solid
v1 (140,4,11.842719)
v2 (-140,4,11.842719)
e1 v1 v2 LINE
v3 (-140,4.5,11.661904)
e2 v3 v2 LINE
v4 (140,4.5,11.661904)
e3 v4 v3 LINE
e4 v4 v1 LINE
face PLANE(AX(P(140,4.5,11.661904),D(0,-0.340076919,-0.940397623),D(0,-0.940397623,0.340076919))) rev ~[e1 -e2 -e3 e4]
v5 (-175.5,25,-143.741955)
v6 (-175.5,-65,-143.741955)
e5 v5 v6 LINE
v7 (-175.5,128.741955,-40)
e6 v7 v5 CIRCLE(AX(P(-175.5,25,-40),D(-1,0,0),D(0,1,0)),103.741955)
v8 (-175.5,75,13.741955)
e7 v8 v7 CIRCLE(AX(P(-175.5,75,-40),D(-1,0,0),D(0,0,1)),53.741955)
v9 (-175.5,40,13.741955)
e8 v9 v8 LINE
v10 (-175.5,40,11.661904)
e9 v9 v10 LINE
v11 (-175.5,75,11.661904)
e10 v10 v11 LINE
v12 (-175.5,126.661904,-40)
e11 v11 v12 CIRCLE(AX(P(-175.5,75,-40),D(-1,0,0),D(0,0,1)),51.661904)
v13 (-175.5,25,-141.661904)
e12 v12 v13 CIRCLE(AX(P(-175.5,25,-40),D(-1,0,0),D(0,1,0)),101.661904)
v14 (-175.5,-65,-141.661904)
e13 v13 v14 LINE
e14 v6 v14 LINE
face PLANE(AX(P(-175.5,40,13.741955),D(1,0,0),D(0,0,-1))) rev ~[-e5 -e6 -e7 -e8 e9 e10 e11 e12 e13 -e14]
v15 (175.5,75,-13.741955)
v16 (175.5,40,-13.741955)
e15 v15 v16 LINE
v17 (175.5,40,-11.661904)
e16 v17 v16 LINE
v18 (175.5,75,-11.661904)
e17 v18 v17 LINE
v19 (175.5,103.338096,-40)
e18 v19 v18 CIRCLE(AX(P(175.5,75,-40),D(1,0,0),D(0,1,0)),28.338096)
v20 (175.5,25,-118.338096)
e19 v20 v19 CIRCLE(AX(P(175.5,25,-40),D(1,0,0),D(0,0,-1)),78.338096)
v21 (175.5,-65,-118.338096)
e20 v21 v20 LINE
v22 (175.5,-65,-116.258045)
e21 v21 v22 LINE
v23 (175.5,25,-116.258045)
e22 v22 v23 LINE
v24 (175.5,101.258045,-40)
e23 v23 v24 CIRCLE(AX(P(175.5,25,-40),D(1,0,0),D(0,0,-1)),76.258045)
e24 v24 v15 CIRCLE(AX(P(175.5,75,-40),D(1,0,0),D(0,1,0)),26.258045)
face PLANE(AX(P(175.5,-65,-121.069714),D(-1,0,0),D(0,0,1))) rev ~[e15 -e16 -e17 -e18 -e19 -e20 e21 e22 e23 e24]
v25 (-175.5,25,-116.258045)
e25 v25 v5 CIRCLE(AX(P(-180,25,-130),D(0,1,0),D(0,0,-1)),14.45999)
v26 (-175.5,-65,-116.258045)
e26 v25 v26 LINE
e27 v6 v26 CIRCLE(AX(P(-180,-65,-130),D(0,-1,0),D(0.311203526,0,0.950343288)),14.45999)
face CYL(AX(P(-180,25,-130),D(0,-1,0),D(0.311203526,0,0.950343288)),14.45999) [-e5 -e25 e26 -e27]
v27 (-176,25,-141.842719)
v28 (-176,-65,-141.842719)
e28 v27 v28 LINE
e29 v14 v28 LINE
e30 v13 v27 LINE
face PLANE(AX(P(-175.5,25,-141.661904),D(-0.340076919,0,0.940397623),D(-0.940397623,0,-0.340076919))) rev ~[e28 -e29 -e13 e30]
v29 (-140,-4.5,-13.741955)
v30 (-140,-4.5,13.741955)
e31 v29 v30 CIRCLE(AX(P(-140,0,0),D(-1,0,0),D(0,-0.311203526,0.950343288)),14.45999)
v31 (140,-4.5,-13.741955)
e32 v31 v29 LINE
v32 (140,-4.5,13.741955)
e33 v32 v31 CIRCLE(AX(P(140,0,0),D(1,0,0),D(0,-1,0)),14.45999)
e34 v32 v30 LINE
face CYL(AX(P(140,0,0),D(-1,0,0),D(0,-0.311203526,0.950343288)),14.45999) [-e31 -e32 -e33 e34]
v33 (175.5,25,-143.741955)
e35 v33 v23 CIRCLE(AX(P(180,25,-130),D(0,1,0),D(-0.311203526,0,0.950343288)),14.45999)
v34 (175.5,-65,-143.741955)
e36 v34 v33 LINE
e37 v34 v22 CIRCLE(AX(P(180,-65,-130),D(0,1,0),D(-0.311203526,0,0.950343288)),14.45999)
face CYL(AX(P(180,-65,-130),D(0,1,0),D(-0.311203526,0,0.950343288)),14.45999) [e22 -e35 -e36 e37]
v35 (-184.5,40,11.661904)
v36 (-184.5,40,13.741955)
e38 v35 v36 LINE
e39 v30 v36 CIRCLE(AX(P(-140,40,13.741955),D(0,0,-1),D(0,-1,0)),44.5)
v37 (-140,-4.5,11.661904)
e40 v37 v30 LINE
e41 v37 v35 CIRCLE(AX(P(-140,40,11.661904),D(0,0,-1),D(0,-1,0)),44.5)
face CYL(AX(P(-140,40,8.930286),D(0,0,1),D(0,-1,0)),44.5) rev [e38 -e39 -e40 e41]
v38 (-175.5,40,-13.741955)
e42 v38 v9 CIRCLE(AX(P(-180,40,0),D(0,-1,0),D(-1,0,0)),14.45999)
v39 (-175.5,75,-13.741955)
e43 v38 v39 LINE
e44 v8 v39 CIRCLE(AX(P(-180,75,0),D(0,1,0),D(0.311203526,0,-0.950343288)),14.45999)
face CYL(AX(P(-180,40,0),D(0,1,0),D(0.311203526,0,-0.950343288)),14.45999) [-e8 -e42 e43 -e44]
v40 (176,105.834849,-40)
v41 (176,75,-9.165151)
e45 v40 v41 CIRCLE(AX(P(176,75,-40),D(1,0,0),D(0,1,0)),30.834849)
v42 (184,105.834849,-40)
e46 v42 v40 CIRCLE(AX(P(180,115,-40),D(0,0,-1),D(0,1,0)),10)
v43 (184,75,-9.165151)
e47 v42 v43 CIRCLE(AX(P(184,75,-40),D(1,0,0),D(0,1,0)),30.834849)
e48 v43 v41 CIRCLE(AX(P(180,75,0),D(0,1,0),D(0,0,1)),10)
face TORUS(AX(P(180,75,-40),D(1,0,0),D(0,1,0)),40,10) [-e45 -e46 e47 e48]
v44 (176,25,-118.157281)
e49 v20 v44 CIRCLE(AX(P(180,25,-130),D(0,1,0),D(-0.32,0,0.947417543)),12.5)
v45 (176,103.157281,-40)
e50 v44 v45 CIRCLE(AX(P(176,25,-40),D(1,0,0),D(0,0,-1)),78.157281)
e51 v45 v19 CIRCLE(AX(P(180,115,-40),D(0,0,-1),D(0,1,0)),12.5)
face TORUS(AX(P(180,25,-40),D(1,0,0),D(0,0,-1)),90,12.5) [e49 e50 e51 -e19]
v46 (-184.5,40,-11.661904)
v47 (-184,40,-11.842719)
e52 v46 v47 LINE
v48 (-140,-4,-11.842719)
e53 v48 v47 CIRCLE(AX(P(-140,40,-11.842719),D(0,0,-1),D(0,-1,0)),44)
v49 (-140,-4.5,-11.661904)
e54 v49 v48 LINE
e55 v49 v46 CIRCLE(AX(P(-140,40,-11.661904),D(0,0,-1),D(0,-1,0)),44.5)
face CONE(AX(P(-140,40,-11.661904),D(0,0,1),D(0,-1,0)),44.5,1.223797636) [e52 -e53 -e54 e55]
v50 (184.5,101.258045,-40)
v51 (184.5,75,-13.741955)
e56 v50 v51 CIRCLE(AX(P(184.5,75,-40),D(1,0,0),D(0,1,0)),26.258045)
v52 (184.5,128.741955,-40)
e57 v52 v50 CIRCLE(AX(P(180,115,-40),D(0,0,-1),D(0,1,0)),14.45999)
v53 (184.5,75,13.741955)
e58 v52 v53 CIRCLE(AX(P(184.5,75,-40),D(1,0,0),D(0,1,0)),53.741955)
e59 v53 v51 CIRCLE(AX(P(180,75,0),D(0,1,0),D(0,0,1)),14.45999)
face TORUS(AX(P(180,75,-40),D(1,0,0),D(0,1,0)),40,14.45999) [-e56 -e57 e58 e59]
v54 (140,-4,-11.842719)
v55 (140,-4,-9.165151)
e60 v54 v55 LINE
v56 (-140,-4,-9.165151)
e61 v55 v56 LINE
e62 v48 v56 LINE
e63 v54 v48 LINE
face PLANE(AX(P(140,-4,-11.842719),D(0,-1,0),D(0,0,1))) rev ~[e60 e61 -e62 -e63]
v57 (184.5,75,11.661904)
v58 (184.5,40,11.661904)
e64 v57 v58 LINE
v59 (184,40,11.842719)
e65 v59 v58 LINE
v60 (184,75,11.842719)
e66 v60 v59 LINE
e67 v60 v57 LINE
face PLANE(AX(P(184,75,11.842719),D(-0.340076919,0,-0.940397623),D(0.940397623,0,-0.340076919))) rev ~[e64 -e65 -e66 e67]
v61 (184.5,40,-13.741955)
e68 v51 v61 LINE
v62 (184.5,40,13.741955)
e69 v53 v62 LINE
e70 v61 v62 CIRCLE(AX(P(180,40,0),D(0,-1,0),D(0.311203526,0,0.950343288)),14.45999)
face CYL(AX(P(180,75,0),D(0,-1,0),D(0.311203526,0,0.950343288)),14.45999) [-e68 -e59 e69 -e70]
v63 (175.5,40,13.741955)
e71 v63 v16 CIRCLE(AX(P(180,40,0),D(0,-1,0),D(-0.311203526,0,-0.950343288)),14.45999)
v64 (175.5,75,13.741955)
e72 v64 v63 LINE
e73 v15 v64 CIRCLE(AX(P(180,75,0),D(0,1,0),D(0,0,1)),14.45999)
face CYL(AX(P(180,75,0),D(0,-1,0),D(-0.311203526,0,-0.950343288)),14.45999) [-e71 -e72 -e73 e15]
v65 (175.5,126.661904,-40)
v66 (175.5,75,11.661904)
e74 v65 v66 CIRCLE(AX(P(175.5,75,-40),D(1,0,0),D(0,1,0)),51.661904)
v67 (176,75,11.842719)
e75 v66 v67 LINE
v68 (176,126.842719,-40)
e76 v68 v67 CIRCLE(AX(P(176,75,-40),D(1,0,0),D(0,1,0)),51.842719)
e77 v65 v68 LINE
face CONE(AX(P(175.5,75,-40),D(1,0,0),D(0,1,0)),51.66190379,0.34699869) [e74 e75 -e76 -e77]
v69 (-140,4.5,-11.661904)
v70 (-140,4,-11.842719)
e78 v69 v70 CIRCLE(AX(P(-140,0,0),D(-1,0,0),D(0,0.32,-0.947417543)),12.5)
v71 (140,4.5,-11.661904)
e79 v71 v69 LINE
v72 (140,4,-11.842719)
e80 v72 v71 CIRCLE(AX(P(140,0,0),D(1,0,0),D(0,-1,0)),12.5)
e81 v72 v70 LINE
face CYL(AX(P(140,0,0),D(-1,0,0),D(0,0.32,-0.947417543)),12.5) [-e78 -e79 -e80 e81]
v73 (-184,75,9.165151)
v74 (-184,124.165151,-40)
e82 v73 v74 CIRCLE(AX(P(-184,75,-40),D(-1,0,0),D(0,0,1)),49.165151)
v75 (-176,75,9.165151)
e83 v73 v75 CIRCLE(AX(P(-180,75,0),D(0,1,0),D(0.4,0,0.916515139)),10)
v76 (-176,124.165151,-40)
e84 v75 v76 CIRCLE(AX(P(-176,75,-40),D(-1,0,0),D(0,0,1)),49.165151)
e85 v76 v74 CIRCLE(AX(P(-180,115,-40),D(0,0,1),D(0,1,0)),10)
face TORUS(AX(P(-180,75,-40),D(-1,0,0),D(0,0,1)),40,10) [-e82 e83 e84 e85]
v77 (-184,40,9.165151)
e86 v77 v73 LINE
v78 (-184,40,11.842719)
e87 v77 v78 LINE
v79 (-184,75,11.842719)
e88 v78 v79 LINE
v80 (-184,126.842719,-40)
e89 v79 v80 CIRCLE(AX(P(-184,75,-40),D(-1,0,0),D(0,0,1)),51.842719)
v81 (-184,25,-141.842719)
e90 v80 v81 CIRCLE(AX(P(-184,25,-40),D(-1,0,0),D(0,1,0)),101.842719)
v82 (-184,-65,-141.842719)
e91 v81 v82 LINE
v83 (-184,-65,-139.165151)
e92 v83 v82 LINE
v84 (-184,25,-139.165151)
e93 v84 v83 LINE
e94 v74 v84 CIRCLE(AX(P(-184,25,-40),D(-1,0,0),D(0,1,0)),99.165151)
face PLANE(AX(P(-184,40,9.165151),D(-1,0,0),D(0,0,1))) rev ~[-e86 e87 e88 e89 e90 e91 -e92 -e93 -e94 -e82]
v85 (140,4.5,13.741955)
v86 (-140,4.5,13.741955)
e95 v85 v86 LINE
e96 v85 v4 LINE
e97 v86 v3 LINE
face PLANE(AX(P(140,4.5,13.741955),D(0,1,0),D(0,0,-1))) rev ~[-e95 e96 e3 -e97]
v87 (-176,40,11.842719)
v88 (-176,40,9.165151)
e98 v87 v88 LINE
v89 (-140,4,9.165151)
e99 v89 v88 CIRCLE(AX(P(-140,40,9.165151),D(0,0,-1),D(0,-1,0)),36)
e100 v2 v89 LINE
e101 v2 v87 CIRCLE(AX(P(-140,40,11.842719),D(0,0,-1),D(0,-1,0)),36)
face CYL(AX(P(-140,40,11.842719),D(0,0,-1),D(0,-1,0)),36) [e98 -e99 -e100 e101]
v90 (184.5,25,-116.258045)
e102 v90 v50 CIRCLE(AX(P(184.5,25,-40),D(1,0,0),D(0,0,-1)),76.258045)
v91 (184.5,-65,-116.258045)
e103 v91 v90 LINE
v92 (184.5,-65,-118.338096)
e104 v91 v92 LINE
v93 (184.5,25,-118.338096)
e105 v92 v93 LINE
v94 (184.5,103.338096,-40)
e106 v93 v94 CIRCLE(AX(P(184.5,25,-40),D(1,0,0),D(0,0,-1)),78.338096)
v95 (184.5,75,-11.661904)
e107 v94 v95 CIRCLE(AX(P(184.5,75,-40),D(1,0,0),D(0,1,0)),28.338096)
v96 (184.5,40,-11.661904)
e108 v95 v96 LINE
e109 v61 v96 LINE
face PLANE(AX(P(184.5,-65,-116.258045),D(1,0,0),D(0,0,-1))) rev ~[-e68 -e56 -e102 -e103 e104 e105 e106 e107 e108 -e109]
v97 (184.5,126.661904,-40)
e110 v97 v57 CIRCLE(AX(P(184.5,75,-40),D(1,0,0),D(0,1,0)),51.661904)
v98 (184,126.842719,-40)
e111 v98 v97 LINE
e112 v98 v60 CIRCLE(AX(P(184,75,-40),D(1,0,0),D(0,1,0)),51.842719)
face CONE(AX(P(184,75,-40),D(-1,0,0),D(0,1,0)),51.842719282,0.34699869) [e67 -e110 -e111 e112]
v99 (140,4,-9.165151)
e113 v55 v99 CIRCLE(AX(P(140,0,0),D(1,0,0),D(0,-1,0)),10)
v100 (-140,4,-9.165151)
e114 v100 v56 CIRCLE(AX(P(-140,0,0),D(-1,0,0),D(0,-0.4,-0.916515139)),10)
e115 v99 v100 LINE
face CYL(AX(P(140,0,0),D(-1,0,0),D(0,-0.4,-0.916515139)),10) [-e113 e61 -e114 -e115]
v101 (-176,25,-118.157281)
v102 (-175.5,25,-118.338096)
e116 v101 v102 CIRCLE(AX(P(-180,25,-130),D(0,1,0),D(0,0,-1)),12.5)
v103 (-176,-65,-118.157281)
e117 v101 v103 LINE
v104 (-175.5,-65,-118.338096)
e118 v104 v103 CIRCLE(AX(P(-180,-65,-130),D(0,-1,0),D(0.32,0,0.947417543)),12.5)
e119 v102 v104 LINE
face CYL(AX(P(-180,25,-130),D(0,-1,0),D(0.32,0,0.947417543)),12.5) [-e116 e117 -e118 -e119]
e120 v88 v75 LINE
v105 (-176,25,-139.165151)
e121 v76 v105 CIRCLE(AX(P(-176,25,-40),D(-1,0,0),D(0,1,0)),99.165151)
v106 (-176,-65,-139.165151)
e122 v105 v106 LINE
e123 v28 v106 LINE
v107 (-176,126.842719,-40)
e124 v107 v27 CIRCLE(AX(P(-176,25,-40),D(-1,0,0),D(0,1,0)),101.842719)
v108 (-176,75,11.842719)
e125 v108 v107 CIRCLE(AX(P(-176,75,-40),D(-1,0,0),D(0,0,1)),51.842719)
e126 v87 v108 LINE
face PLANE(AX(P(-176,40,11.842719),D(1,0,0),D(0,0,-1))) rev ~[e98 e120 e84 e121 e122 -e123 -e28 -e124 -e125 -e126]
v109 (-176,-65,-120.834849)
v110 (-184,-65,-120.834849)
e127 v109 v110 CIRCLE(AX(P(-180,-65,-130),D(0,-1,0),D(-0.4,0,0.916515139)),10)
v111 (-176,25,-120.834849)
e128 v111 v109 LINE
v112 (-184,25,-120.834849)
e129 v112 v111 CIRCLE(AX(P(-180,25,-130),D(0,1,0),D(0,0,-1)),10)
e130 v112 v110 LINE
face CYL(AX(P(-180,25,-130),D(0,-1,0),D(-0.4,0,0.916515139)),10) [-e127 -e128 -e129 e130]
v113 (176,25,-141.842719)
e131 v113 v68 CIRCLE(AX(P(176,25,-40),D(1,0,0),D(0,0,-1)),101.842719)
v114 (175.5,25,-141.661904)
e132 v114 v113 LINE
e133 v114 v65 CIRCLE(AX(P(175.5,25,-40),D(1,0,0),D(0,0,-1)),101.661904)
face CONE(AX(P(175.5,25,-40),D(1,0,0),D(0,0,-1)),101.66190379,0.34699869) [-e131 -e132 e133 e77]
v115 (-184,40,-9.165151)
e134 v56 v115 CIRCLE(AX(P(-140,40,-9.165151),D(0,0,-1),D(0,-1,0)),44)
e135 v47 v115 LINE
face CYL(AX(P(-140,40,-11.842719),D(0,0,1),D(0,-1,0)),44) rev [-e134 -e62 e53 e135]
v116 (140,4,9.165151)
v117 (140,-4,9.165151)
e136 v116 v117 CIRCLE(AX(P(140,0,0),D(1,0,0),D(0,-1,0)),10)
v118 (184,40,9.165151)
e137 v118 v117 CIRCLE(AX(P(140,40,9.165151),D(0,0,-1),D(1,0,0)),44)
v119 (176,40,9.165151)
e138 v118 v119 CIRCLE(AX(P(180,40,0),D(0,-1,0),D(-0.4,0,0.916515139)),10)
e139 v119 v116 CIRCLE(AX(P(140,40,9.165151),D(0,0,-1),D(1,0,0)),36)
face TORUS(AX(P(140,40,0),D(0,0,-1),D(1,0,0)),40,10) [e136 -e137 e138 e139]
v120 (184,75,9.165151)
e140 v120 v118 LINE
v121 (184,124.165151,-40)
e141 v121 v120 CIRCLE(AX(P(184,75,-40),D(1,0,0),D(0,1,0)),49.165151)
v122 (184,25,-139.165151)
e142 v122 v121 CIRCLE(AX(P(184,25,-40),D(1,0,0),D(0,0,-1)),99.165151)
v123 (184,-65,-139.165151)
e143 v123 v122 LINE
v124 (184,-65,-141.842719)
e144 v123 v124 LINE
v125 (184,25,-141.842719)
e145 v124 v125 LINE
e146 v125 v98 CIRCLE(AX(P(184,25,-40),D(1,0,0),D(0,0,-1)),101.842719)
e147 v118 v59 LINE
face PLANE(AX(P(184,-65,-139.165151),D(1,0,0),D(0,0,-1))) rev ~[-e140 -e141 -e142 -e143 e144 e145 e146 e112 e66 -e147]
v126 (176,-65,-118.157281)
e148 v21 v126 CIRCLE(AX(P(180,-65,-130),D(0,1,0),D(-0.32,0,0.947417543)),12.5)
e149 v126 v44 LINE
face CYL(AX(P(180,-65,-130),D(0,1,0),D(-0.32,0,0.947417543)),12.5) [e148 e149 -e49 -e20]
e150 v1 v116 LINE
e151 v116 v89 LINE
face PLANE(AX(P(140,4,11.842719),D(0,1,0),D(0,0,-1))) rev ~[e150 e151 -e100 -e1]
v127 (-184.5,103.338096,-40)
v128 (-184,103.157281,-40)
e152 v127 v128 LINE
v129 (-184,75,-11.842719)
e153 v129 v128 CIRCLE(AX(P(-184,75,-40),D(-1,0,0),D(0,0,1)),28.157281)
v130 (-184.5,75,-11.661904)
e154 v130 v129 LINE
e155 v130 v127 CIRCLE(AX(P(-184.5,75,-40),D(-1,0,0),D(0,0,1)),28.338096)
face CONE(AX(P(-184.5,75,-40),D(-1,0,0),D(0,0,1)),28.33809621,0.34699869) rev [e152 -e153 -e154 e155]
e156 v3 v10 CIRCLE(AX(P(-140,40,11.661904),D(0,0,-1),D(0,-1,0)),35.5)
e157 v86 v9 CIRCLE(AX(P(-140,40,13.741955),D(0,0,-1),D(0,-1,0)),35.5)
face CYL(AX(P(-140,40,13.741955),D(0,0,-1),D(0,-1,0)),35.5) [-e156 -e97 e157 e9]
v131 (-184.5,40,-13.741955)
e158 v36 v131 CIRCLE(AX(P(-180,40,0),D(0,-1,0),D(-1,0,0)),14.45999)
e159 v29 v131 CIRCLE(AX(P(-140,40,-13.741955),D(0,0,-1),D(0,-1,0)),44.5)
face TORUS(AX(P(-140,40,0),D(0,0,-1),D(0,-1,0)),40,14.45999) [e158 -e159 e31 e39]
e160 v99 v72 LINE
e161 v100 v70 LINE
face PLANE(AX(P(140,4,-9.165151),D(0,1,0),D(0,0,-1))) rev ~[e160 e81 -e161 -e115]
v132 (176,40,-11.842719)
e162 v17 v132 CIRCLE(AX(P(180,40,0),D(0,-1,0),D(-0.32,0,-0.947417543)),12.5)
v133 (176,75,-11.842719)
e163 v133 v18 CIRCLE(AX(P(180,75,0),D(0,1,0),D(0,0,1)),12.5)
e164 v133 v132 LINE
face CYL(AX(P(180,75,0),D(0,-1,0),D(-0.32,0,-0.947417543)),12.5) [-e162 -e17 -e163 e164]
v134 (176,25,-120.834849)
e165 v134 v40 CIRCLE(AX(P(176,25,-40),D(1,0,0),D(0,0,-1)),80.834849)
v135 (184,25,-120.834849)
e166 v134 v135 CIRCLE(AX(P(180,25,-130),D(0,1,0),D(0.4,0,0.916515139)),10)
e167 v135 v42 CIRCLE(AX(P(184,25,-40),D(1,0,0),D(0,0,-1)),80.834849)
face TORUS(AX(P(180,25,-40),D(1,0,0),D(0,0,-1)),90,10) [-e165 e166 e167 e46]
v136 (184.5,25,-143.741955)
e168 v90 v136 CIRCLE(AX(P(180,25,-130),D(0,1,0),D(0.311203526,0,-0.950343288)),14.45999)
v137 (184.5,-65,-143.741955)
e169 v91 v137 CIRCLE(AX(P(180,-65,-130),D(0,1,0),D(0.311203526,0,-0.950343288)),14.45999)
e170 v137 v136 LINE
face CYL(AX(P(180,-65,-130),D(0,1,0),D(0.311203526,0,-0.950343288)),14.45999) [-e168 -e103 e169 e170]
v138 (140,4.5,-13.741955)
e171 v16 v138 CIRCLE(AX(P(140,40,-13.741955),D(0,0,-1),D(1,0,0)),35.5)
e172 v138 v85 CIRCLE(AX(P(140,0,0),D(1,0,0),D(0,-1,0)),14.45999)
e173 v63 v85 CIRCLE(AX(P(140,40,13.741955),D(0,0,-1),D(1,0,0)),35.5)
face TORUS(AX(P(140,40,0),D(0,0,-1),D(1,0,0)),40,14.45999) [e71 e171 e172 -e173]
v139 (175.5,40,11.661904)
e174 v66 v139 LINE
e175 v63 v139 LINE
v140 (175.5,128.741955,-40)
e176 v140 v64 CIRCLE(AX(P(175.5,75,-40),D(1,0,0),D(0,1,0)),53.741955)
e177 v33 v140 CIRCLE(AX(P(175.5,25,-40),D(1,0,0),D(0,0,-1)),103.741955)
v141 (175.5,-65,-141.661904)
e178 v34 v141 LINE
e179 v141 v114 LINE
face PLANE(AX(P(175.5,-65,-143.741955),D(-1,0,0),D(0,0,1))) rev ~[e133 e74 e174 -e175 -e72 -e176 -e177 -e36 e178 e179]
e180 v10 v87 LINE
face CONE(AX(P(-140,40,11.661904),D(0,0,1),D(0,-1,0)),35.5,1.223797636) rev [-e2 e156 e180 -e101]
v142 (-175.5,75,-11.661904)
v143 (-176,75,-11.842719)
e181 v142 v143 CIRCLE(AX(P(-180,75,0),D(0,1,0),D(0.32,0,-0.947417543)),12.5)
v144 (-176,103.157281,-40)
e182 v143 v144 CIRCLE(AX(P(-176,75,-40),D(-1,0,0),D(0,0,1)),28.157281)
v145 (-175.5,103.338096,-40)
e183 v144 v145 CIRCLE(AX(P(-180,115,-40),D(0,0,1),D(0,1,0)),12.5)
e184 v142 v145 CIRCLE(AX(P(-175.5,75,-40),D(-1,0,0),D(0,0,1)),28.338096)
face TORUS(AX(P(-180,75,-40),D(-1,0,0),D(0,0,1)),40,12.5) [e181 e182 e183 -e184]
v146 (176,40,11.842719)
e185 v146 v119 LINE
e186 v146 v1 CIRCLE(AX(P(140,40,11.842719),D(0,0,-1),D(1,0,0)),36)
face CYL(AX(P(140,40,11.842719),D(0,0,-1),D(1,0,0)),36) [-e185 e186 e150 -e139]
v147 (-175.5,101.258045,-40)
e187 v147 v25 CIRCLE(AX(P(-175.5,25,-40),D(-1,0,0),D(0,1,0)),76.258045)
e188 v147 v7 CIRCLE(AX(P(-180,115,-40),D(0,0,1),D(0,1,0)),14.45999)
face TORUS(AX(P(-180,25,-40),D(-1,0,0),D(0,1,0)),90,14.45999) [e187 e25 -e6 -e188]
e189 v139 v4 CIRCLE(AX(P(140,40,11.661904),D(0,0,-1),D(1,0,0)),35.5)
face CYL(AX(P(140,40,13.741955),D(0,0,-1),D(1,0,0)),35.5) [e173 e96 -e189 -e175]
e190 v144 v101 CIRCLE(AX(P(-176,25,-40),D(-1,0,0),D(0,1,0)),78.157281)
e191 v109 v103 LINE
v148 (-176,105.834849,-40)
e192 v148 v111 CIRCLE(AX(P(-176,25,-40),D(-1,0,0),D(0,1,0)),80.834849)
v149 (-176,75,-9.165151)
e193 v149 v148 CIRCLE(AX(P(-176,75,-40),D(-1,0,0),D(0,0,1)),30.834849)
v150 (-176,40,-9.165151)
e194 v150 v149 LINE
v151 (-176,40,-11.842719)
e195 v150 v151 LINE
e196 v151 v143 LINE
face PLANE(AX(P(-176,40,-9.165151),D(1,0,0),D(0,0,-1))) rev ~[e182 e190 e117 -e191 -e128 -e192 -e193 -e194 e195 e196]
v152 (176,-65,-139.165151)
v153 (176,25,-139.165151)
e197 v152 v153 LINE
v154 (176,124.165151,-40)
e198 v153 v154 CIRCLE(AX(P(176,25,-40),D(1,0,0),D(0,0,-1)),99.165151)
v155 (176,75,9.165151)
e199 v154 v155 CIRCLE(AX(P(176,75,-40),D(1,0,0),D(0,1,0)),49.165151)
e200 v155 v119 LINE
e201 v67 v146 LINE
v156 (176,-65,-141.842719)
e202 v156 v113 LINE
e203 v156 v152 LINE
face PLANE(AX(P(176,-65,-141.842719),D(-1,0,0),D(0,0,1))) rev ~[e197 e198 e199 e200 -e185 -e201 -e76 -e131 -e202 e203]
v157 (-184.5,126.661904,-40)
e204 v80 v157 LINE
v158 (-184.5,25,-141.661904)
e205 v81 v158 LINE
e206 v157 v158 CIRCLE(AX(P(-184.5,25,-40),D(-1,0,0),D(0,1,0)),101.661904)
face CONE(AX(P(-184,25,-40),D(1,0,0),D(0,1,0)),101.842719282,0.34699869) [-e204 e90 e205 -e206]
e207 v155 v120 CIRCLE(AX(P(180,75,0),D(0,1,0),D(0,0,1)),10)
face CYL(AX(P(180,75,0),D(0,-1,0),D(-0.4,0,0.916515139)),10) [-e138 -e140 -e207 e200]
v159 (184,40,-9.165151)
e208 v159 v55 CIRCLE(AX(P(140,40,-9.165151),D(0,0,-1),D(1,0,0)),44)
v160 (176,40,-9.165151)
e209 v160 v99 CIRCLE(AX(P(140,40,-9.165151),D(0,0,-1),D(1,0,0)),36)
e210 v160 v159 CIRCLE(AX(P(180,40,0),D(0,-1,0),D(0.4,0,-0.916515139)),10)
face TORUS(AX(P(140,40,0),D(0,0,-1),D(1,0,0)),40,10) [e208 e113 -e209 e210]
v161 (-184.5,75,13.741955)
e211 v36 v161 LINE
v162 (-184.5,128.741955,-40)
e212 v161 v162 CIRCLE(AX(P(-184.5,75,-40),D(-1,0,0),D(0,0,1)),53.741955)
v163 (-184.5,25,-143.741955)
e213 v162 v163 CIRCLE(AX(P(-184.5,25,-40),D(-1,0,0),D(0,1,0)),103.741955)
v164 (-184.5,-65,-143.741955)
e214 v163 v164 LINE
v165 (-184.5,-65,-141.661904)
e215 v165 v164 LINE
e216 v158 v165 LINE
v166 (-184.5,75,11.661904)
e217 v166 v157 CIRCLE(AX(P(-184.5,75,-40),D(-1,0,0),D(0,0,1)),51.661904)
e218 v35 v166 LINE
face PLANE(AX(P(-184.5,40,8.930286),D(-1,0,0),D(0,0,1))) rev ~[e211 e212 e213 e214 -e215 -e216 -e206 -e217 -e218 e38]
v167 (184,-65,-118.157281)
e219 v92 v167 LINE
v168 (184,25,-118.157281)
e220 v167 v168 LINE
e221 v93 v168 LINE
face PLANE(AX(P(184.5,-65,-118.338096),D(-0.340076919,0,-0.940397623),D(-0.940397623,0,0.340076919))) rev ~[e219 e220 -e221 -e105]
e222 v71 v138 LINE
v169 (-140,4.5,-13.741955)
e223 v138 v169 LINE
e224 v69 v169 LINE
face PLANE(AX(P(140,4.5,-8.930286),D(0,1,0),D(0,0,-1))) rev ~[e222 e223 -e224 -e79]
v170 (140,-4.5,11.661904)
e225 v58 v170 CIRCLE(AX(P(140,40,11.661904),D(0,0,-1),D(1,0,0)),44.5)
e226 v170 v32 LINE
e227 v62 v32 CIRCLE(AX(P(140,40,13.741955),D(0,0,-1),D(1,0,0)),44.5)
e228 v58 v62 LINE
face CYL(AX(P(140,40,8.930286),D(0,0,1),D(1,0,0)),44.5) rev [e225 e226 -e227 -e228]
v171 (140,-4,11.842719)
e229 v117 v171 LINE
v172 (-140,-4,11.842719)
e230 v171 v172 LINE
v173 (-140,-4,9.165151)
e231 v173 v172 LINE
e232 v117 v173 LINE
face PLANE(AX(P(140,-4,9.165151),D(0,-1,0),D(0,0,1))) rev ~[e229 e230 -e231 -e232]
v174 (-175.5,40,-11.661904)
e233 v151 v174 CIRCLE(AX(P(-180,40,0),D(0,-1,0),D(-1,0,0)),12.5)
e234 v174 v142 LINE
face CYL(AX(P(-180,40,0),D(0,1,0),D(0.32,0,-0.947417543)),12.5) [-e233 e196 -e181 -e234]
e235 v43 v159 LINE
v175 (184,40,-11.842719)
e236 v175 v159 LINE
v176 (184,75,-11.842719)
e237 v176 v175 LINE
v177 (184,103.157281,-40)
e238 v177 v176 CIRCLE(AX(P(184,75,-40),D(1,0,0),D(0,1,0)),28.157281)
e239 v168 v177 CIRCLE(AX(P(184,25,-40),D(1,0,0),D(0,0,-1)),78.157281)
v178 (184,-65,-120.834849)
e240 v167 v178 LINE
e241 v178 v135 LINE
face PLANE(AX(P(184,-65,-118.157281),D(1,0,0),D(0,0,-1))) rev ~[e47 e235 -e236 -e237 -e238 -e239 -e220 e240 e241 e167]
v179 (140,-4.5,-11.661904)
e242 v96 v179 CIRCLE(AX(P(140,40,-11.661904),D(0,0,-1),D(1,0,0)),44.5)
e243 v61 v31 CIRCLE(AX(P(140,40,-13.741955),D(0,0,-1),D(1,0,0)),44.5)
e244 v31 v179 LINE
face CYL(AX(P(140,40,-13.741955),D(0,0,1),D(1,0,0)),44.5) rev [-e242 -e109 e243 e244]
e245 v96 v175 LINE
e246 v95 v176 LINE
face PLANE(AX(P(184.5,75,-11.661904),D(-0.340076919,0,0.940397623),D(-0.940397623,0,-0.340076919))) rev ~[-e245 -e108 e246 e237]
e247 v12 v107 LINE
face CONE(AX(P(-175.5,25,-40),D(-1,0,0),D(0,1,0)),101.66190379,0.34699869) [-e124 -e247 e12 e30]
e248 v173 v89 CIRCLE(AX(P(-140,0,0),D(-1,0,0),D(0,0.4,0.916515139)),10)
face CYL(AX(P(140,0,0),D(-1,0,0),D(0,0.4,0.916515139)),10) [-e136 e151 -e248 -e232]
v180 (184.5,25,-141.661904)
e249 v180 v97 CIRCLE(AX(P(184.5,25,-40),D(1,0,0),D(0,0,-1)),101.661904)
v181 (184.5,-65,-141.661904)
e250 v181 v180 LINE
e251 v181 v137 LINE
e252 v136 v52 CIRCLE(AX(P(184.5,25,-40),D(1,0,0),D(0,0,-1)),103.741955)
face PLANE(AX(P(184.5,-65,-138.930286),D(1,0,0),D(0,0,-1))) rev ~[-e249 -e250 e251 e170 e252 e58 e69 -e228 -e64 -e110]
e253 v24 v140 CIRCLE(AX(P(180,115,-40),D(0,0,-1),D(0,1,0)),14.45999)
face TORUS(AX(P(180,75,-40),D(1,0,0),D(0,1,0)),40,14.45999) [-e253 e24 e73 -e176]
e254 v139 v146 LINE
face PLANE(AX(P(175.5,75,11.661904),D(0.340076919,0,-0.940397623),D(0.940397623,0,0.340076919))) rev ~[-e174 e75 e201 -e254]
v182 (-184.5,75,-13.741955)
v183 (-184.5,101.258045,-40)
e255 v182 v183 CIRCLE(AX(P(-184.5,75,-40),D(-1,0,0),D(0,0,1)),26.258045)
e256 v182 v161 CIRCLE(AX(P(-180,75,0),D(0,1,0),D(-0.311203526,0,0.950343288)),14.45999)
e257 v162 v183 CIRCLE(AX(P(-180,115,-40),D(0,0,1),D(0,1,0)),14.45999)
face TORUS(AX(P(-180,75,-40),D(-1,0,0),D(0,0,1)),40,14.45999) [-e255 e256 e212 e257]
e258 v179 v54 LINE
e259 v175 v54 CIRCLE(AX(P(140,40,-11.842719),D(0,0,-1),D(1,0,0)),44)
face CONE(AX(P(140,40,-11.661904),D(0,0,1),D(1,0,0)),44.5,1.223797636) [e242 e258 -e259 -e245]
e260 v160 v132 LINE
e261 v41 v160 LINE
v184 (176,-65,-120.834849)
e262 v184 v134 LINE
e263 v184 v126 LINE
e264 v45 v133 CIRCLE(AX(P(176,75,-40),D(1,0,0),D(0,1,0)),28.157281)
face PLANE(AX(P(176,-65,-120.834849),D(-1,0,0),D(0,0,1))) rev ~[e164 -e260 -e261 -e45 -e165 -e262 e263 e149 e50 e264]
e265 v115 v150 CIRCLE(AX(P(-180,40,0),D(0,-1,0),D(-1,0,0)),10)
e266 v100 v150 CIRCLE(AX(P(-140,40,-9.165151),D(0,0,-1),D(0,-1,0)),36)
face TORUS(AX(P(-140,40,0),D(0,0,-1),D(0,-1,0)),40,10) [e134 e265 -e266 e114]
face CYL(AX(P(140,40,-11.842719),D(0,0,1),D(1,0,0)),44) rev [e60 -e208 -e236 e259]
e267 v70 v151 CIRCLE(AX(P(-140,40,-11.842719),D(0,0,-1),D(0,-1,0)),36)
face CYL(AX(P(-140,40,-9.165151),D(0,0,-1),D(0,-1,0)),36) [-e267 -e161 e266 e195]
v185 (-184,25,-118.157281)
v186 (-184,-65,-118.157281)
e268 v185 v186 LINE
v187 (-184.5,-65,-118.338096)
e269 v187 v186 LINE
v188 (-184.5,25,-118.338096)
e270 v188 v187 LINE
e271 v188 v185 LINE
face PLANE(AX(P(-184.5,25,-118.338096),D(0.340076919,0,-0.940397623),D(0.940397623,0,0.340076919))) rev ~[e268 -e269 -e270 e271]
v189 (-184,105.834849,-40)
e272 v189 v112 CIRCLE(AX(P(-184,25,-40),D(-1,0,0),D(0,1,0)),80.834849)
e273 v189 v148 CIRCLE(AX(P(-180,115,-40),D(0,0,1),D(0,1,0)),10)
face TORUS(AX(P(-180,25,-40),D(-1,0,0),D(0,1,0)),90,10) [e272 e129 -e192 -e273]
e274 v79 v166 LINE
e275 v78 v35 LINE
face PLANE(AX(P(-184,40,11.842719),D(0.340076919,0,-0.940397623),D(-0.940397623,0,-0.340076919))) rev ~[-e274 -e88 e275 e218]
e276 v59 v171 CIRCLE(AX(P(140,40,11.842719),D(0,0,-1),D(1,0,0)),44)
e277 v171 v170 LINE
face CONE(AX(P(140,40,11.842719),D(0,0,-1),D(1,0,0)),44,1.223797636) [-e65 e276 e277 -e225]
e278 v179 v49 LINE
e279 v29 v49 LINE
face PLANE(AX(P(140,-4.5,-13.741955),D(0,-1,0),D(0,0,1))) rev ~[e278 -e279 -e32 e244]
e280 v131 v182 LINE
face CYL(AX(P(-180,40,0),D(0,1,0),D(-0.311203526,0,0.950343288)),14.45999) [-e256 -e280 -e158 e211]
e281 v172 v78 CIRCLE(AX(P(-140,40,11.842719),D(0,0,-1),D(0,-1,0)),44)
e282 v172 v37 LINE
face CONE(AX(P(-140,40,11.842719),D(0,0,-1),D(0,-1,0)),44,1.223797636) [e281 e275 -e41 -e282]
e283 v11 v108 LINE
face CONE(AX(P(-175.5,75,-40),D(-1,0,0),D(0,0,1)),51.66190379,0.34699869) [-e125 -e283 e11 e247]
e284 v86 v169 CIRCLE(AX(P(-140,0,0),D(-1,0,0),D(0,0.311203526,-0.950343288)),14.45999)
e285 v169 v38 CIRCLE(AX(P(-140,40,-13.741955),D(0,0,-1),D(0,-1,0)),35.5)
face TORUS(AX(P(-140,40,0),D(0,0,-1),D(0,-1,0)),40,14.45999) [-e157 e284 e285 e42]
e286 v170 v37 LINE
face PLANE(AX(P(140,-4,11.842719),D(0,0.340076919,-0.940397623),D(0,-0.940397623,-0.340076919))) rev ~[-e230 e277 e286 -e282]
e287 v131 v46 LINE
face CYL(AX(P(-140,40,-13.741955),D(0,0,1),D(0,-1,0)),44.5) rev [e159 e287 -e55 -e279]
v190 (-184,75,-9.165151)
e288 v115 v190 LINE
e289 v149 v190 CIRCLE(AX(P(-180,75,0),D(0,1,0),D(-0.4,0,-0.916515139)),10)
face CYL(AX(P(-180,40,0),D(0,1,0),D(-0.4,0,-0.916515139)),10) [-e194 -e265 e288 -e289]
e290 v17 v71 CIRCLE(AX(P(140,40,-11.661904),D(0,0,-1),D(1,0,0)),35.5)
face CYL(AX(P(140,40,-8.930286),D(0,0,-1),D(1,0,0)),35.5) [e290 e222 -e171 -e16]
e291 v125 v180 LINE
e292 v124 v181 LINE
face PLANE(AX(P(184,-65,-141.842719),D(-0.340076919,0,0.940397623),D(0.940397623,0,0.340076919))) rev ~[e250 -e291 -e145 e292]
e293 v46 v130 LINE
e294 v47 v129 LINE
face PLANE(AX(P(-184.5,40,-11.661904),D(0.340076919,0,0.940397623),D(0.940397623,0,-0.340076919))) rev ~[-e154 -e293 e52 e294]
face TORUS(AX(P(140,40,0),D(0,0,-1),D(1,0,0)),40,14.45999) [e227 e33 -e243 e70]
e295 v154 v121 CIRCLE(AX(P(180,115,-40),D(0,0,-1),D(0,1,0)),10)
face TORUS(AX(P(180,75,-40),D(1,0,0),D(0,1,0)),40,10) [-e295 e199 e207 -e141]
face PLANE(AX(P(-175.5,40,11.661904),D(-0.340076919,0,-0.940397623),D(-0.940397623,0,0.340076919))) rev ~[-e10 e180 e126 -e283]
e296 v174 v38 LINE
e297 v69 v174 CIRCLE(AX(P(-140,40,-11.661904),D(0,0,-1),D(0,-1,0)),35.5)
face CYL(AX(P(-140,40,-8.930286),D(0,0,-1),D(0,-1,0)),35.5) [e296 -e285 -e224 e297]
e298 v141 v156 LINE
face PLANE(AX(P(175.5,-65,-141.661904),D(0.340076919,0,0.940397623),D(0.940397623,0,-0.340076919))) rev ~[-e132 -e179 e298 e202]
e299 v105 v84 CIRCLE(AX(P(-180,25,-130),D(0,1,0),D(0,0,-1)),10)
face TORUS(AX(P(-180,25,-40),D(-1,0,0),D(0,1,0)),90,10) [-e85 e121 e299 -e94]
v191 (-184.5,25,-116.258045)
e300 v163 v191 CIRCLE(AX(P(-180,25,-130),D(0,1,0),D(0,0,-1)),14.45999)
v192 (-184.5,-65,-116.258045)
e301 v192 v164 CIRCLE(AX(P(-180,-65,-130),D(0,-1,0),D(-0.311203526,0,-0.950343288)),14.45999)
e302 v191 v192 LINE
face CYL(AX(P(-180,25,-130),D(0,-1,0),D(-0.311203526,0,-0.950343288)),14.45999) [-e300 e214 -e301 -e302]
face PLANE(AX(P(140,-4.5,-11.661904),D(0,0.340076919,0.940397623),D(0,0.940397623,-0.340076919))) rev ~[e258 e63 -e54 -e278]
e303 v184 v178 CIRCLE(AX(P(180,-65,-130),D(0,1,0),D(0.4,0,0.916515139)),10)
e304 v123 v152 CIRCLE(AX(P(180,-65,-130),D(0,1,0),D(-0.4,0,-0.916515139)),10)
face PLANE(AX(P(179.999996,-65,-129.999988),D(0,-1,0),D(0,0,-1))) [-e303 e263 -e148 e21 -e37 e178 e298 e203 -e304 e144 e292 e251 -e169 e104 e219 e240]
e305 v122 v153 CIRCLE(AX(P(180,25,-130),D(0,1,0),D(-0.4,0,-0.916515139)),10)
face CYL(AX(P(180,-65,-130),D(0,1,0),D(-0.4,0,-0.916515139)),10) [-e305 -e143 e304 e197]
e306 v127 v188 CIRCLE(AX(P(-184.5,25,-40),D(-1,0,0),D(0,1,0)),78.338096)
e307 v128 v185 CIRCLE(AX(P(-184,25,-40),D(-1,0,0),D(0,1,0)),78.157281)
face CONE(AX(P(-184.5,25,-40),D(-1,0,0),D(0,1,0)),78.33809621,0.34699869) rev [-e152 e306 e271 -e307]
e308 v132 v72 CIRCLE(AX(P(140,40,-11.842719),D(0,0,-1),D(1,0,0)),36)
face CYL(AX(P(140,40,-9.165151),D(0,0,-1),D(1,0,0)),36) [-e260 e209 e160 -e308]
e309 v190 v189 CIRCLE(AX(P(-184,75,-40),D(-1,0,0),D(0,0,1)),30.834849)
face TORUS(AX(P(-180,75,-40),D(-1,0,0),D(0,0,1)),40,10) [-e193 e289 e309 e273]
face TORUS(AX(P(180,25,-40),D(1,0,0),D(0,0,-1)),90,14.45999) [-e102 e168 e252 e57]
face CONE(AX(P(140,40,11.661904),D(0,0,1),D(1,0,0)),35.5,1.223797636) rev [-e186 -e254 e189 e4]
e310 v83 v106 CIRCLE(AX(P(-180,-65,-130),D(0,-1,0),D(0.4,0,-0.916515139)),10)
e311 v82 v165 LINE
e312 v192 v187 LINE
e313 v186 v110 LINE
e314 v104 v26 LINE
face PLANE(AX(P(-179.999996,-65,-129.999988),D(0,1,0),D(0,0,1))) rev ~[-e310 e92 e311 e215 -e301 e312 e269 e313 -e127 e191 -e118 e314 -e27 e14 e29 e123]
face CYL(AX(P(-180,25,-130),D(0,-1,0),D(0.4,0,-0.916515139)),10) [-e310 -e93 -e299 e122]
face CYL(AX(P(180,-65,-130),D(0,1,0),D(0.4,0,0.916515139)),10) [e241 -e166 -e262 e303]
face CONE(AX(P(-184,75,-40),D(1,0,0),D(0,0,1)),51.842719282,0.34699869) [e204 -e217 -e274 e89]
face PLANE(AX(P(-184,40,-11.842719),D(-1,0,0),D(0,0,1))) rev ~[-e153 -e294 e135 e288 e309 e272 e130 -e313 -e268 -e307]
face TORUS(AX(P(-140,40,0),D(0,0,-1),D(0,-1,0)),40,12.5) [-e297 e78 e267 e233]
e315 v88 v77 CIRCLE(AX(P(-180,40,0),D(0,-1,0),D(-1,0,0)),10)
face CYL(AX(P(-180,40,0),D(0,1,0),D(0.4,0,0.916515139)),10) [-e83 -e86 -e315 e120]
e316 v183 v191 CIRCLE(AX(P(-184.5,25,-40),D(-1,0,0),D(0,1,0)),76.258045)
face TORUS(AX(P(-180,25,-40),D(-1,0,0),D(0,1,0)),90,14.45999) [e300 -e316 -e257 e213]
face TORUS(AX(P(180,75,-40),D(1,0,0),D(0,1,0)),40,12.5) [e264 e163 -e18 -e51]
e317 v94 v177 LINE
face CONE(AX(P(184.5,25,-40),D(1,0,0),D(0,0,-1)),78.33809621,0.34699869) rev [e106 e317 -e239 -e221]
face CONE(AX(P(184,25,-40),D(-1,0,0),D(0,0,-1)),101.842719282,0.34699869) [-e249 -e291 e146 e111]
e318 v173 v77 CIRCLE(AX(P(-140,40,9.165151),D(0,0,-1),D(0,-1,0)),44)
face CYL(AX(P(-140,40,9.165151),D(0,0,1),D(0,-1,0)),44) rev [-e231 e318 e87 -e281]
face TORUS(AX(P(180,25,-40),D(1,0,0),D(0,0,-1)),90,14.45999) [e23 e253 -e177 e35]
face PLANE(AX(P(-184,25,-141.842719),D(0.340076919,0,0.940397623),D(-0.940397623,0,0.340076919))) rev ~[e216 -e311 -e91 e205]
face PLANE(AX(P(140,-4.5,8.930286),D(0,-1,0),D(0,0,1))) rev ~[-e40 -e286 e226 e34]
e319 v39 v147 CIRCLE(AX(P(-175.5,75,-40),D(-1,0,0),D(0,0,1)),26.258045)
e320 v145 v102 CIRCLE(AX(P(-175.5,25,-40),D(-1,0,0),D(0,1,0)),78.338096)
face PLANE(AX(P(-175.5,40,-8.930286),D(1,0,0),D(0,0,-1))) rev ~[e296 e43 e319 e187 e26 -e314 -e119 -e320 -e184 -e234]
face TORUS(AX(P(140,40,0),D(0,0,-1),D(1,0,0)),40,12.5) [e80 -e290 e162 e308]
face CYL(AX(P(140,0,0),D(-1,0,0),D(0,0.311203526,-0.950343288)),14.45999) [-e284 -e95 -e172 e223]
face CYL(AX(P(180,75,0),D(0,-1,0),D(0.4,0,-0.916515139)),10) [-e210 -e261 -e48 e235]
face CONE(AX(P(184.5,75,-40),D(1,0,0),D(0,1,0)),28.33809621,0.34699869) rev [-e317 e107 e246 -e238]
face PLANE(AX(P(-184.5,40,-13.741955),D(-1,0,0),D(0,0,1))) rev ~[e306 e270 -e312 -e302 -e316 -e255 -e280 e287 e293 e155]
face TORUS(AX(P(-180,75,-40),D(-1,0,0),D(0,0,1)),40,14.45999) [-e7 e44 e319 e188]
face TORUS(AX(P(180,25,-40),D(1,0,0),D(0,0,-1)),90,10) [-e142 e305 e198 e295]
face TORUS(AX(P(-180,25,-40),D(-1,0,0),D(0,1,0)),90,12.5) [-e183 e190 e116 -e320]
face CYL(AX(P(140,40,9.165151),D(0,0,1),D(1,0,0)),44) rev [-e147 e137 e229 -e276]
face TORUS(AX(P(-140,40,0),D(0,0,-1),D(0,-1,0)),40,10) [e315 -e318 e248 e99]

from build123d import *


with BuildPart() as f7:
    # F7: sweep along a path in F2, F0, F4
    with BuildLine(Plane.YZ.offset(180)) as f7_path:
        Line((-65, -130), (25, -130))
        ThreePointArc((25, -130), (88.6396103068, -103.6396103068), (115, -40))
        ThreePointArc((115, -40), (103.2842712475, -11.7157287525), (75, 0))
        Line((75, 0), (40, 0))
    with BuildLine(Plane.XY) as f7_path_2:
        ThreePointArc((180, 40), (168.2842712475, 11.7157287525), (140, 0))
        Line((140, 0), (-140, 0))
        ThreePointArc((-140, 0), (-168.2842712475, 11.7157287525), (-180, 40))
    with BuildLine(Plane.YZ.offset(-180)) as f7_path_3:
        Line((40, 0), (75, 0))
        ThreePointArc((75, 0), (103.2842712475, -11.7157287525), (115, -40))
        ThreePointArc((115, -40), (88.6396103068, -103.6396103068), (25, -130))
        Line((25, -130), (-65, -130))
    # F6 (on plane+point) → F7 (sweep)
    with BuildSketch(Plane.XZ.offset(65)):
        with BuildLine():
            Line((175.5, -138.9302855497), (175.5, -121.0697144503))
            ThreePointArc((175.5, -121.0697144503), (170, -130), (175.5, -138.9302855497))
        make_face()
        with BuildLine():
            ThreePointArc((176, -120.8348486101), (175.7483778989, -120.9488282798), (175.5, -121.0697144503))
            Line((175.5, -121.0697144503), (175.5, -138.9302855497))
            ThreePointArc((175.5, -138.9302855497), (175.7483778989, -139.0511717202), (176, -139.1651513899))
            Line((176, -139.1651513899), (176, -120.8348486101))
        make_face()
        with BuildLine():
            ThreePointArc((184, -120.8348486101), (180, -120), (176, -120.8348486101))
            Line((176, -120.8348486101), (176, -139.1651513899))
            ThreePointArc((176, -139.1651513899), (180, -140), (184, -139.1651513899))
            Line((184, -139.1651513899), (184, -120.8348486101))
        make_face()
        with BuildLine():
            ThreePointArc((184.5, -121.0697144503), (184.2516221011, -120.9488282798), (184, -120.8348486101))
            Line((184, -120.8348486101), (184, -139.1651513899))
            ThreePointArc((184, -139.1651513899), (184.2516221011, -139.0511717202), (184.5, -138.9302855497))
            Line((184.5, -138.9302855497), (184.5, -121.0697144503))
        make_face()
        with BuildLine():
            ThreePointArc((190, -130), (188.514693183, -124.7559557591), (184.5, -121.0697144503))
            Line((184.5, -121.0697144503), (184.5, -138.9302855497))
            ThreePointArc((184.5, -138.9302855497), (188.514693183, -135.2440442409), (190, -130))
        make_face()
        with BuildLine():
            Line((175.5, -121.0697144503), (175.5, -118.3380962103))
            ThreePointArc((175.5, -118.3380962103), (167.5, -130), (175.5, -141.6619037897))
            Line((175.5, -141.6619037897), (175.5, -138.9302855497))
            ThreePointArc((175.5, -138.9302855497), (170, -130), (175.5, -121.0697144503))
        make_face()
        with BuildLine():
            ThreePointArc((192.5, -130), (190.307764064, -122.9289321881), (184.5, -118.3380962103))
            Line((184.5, -118.3380962103), (184.5, -121.0697144503))
            ThreePointArc((184.5, -121.0697144503), (188.514693183, -124.7559557591), (190, -130))
            ThreePointArc((190, -130), (188.514693183, -135.2440442409), (184.5, -138.9302855497))
            Line((184.5, -138.9302855497), (184.5, -141.6619037897))
            ThreePointArc((184.5, -141.6619037897), (190.307764064, -137.0710678119), (192.5, -130))
        make_face()
        with BuildLine():
            Line((184.5, -116.2580451649), (184.5, -118.3380962103))
            ThreePointArc((184.5, -118.3380962103), (190.307764064, -122.9289321881), (192.5, -130))
            ThreePointArc((192.5, -130), (190.307764064, -137.0710678119), (184.5, -141.6619037897))
            Line((184.5, -141.6619037897), (184.5, -143.7419548351))
            ThreePointArc((184.5, -143.7419548351), (194.4599904111, -130), (184.5, -116.2580451649))
        make_face()
        with BuildLine():
            Line((175.5, -118.3380962103), (175.5, -116.2580451649))
            ThreePointArc((175.5, -116.2580451649), (165.5400095889, -130), (175.5, -143.7419548351))
            Line((175.5, -143.7419548351), (175.5, -141.6619037897))
            ThreePointArc((175.5, -141.6619037897), (167.5, -130), (175.5, -118.3380962103))
        make_face()
        with BuildLine():
            ThreePointArc((176, -118.1572807177), (175.7490385134, -118.2450297134), (175.5, -118.3380962103))
            Line((175.5, -118.3380962103), (175.5, -121.0697144503))
            ThreePointArc((175.5, -121.0697144503), (175.7483778989, -120.9488282798), (176, -120.8348486101))
            Line((176, -120.8348486101), (176, -118.1572807177))
        make_face()
        with BuildLine():
            Line((184.5, -118.3380962103), (184, -118.1572807177))
            Line((184, -118.1572807177), (184, -120.8348486101))
            ThreePointArc((184, -120.8348486101), (184.2516221011, -120.9488282798), (184.5, -121.0697144503))
            Line((184.5, -121.0697144503), (184.5, -118.3380962103))
        make_face()
        with BuildLine():
            Line((175.5, -138.9302855497), (175.5, -141.6619037897))
            Line((175.5, -141.6619037897), (176, -141.8427192823))
            Line((176, -141.8427192823), (176, -139.1651513899))
            ThreePointArc((176, -139.1651513899), (175.7483778989, -139.0511717202), (175.5, -138.9302855497))
        make_face()
        with BuildLine():
            Line((184, -139.1651513899), (184, -141.8427192823))
            Line((184, -141.8427192823), (184.5, -141.6619037897))
            Line((184.5, -141.6619037897), (184.5, -138.9302855497))
            ThreePointArc((184.5, -138.9302855497), (184.2516221011, -139.0511717202), (184, -139.1651513899))
        make_face()
    sweep(path=f7_path.line + f7_path_2.line + f7_path_3.line)


solid = f7.part
